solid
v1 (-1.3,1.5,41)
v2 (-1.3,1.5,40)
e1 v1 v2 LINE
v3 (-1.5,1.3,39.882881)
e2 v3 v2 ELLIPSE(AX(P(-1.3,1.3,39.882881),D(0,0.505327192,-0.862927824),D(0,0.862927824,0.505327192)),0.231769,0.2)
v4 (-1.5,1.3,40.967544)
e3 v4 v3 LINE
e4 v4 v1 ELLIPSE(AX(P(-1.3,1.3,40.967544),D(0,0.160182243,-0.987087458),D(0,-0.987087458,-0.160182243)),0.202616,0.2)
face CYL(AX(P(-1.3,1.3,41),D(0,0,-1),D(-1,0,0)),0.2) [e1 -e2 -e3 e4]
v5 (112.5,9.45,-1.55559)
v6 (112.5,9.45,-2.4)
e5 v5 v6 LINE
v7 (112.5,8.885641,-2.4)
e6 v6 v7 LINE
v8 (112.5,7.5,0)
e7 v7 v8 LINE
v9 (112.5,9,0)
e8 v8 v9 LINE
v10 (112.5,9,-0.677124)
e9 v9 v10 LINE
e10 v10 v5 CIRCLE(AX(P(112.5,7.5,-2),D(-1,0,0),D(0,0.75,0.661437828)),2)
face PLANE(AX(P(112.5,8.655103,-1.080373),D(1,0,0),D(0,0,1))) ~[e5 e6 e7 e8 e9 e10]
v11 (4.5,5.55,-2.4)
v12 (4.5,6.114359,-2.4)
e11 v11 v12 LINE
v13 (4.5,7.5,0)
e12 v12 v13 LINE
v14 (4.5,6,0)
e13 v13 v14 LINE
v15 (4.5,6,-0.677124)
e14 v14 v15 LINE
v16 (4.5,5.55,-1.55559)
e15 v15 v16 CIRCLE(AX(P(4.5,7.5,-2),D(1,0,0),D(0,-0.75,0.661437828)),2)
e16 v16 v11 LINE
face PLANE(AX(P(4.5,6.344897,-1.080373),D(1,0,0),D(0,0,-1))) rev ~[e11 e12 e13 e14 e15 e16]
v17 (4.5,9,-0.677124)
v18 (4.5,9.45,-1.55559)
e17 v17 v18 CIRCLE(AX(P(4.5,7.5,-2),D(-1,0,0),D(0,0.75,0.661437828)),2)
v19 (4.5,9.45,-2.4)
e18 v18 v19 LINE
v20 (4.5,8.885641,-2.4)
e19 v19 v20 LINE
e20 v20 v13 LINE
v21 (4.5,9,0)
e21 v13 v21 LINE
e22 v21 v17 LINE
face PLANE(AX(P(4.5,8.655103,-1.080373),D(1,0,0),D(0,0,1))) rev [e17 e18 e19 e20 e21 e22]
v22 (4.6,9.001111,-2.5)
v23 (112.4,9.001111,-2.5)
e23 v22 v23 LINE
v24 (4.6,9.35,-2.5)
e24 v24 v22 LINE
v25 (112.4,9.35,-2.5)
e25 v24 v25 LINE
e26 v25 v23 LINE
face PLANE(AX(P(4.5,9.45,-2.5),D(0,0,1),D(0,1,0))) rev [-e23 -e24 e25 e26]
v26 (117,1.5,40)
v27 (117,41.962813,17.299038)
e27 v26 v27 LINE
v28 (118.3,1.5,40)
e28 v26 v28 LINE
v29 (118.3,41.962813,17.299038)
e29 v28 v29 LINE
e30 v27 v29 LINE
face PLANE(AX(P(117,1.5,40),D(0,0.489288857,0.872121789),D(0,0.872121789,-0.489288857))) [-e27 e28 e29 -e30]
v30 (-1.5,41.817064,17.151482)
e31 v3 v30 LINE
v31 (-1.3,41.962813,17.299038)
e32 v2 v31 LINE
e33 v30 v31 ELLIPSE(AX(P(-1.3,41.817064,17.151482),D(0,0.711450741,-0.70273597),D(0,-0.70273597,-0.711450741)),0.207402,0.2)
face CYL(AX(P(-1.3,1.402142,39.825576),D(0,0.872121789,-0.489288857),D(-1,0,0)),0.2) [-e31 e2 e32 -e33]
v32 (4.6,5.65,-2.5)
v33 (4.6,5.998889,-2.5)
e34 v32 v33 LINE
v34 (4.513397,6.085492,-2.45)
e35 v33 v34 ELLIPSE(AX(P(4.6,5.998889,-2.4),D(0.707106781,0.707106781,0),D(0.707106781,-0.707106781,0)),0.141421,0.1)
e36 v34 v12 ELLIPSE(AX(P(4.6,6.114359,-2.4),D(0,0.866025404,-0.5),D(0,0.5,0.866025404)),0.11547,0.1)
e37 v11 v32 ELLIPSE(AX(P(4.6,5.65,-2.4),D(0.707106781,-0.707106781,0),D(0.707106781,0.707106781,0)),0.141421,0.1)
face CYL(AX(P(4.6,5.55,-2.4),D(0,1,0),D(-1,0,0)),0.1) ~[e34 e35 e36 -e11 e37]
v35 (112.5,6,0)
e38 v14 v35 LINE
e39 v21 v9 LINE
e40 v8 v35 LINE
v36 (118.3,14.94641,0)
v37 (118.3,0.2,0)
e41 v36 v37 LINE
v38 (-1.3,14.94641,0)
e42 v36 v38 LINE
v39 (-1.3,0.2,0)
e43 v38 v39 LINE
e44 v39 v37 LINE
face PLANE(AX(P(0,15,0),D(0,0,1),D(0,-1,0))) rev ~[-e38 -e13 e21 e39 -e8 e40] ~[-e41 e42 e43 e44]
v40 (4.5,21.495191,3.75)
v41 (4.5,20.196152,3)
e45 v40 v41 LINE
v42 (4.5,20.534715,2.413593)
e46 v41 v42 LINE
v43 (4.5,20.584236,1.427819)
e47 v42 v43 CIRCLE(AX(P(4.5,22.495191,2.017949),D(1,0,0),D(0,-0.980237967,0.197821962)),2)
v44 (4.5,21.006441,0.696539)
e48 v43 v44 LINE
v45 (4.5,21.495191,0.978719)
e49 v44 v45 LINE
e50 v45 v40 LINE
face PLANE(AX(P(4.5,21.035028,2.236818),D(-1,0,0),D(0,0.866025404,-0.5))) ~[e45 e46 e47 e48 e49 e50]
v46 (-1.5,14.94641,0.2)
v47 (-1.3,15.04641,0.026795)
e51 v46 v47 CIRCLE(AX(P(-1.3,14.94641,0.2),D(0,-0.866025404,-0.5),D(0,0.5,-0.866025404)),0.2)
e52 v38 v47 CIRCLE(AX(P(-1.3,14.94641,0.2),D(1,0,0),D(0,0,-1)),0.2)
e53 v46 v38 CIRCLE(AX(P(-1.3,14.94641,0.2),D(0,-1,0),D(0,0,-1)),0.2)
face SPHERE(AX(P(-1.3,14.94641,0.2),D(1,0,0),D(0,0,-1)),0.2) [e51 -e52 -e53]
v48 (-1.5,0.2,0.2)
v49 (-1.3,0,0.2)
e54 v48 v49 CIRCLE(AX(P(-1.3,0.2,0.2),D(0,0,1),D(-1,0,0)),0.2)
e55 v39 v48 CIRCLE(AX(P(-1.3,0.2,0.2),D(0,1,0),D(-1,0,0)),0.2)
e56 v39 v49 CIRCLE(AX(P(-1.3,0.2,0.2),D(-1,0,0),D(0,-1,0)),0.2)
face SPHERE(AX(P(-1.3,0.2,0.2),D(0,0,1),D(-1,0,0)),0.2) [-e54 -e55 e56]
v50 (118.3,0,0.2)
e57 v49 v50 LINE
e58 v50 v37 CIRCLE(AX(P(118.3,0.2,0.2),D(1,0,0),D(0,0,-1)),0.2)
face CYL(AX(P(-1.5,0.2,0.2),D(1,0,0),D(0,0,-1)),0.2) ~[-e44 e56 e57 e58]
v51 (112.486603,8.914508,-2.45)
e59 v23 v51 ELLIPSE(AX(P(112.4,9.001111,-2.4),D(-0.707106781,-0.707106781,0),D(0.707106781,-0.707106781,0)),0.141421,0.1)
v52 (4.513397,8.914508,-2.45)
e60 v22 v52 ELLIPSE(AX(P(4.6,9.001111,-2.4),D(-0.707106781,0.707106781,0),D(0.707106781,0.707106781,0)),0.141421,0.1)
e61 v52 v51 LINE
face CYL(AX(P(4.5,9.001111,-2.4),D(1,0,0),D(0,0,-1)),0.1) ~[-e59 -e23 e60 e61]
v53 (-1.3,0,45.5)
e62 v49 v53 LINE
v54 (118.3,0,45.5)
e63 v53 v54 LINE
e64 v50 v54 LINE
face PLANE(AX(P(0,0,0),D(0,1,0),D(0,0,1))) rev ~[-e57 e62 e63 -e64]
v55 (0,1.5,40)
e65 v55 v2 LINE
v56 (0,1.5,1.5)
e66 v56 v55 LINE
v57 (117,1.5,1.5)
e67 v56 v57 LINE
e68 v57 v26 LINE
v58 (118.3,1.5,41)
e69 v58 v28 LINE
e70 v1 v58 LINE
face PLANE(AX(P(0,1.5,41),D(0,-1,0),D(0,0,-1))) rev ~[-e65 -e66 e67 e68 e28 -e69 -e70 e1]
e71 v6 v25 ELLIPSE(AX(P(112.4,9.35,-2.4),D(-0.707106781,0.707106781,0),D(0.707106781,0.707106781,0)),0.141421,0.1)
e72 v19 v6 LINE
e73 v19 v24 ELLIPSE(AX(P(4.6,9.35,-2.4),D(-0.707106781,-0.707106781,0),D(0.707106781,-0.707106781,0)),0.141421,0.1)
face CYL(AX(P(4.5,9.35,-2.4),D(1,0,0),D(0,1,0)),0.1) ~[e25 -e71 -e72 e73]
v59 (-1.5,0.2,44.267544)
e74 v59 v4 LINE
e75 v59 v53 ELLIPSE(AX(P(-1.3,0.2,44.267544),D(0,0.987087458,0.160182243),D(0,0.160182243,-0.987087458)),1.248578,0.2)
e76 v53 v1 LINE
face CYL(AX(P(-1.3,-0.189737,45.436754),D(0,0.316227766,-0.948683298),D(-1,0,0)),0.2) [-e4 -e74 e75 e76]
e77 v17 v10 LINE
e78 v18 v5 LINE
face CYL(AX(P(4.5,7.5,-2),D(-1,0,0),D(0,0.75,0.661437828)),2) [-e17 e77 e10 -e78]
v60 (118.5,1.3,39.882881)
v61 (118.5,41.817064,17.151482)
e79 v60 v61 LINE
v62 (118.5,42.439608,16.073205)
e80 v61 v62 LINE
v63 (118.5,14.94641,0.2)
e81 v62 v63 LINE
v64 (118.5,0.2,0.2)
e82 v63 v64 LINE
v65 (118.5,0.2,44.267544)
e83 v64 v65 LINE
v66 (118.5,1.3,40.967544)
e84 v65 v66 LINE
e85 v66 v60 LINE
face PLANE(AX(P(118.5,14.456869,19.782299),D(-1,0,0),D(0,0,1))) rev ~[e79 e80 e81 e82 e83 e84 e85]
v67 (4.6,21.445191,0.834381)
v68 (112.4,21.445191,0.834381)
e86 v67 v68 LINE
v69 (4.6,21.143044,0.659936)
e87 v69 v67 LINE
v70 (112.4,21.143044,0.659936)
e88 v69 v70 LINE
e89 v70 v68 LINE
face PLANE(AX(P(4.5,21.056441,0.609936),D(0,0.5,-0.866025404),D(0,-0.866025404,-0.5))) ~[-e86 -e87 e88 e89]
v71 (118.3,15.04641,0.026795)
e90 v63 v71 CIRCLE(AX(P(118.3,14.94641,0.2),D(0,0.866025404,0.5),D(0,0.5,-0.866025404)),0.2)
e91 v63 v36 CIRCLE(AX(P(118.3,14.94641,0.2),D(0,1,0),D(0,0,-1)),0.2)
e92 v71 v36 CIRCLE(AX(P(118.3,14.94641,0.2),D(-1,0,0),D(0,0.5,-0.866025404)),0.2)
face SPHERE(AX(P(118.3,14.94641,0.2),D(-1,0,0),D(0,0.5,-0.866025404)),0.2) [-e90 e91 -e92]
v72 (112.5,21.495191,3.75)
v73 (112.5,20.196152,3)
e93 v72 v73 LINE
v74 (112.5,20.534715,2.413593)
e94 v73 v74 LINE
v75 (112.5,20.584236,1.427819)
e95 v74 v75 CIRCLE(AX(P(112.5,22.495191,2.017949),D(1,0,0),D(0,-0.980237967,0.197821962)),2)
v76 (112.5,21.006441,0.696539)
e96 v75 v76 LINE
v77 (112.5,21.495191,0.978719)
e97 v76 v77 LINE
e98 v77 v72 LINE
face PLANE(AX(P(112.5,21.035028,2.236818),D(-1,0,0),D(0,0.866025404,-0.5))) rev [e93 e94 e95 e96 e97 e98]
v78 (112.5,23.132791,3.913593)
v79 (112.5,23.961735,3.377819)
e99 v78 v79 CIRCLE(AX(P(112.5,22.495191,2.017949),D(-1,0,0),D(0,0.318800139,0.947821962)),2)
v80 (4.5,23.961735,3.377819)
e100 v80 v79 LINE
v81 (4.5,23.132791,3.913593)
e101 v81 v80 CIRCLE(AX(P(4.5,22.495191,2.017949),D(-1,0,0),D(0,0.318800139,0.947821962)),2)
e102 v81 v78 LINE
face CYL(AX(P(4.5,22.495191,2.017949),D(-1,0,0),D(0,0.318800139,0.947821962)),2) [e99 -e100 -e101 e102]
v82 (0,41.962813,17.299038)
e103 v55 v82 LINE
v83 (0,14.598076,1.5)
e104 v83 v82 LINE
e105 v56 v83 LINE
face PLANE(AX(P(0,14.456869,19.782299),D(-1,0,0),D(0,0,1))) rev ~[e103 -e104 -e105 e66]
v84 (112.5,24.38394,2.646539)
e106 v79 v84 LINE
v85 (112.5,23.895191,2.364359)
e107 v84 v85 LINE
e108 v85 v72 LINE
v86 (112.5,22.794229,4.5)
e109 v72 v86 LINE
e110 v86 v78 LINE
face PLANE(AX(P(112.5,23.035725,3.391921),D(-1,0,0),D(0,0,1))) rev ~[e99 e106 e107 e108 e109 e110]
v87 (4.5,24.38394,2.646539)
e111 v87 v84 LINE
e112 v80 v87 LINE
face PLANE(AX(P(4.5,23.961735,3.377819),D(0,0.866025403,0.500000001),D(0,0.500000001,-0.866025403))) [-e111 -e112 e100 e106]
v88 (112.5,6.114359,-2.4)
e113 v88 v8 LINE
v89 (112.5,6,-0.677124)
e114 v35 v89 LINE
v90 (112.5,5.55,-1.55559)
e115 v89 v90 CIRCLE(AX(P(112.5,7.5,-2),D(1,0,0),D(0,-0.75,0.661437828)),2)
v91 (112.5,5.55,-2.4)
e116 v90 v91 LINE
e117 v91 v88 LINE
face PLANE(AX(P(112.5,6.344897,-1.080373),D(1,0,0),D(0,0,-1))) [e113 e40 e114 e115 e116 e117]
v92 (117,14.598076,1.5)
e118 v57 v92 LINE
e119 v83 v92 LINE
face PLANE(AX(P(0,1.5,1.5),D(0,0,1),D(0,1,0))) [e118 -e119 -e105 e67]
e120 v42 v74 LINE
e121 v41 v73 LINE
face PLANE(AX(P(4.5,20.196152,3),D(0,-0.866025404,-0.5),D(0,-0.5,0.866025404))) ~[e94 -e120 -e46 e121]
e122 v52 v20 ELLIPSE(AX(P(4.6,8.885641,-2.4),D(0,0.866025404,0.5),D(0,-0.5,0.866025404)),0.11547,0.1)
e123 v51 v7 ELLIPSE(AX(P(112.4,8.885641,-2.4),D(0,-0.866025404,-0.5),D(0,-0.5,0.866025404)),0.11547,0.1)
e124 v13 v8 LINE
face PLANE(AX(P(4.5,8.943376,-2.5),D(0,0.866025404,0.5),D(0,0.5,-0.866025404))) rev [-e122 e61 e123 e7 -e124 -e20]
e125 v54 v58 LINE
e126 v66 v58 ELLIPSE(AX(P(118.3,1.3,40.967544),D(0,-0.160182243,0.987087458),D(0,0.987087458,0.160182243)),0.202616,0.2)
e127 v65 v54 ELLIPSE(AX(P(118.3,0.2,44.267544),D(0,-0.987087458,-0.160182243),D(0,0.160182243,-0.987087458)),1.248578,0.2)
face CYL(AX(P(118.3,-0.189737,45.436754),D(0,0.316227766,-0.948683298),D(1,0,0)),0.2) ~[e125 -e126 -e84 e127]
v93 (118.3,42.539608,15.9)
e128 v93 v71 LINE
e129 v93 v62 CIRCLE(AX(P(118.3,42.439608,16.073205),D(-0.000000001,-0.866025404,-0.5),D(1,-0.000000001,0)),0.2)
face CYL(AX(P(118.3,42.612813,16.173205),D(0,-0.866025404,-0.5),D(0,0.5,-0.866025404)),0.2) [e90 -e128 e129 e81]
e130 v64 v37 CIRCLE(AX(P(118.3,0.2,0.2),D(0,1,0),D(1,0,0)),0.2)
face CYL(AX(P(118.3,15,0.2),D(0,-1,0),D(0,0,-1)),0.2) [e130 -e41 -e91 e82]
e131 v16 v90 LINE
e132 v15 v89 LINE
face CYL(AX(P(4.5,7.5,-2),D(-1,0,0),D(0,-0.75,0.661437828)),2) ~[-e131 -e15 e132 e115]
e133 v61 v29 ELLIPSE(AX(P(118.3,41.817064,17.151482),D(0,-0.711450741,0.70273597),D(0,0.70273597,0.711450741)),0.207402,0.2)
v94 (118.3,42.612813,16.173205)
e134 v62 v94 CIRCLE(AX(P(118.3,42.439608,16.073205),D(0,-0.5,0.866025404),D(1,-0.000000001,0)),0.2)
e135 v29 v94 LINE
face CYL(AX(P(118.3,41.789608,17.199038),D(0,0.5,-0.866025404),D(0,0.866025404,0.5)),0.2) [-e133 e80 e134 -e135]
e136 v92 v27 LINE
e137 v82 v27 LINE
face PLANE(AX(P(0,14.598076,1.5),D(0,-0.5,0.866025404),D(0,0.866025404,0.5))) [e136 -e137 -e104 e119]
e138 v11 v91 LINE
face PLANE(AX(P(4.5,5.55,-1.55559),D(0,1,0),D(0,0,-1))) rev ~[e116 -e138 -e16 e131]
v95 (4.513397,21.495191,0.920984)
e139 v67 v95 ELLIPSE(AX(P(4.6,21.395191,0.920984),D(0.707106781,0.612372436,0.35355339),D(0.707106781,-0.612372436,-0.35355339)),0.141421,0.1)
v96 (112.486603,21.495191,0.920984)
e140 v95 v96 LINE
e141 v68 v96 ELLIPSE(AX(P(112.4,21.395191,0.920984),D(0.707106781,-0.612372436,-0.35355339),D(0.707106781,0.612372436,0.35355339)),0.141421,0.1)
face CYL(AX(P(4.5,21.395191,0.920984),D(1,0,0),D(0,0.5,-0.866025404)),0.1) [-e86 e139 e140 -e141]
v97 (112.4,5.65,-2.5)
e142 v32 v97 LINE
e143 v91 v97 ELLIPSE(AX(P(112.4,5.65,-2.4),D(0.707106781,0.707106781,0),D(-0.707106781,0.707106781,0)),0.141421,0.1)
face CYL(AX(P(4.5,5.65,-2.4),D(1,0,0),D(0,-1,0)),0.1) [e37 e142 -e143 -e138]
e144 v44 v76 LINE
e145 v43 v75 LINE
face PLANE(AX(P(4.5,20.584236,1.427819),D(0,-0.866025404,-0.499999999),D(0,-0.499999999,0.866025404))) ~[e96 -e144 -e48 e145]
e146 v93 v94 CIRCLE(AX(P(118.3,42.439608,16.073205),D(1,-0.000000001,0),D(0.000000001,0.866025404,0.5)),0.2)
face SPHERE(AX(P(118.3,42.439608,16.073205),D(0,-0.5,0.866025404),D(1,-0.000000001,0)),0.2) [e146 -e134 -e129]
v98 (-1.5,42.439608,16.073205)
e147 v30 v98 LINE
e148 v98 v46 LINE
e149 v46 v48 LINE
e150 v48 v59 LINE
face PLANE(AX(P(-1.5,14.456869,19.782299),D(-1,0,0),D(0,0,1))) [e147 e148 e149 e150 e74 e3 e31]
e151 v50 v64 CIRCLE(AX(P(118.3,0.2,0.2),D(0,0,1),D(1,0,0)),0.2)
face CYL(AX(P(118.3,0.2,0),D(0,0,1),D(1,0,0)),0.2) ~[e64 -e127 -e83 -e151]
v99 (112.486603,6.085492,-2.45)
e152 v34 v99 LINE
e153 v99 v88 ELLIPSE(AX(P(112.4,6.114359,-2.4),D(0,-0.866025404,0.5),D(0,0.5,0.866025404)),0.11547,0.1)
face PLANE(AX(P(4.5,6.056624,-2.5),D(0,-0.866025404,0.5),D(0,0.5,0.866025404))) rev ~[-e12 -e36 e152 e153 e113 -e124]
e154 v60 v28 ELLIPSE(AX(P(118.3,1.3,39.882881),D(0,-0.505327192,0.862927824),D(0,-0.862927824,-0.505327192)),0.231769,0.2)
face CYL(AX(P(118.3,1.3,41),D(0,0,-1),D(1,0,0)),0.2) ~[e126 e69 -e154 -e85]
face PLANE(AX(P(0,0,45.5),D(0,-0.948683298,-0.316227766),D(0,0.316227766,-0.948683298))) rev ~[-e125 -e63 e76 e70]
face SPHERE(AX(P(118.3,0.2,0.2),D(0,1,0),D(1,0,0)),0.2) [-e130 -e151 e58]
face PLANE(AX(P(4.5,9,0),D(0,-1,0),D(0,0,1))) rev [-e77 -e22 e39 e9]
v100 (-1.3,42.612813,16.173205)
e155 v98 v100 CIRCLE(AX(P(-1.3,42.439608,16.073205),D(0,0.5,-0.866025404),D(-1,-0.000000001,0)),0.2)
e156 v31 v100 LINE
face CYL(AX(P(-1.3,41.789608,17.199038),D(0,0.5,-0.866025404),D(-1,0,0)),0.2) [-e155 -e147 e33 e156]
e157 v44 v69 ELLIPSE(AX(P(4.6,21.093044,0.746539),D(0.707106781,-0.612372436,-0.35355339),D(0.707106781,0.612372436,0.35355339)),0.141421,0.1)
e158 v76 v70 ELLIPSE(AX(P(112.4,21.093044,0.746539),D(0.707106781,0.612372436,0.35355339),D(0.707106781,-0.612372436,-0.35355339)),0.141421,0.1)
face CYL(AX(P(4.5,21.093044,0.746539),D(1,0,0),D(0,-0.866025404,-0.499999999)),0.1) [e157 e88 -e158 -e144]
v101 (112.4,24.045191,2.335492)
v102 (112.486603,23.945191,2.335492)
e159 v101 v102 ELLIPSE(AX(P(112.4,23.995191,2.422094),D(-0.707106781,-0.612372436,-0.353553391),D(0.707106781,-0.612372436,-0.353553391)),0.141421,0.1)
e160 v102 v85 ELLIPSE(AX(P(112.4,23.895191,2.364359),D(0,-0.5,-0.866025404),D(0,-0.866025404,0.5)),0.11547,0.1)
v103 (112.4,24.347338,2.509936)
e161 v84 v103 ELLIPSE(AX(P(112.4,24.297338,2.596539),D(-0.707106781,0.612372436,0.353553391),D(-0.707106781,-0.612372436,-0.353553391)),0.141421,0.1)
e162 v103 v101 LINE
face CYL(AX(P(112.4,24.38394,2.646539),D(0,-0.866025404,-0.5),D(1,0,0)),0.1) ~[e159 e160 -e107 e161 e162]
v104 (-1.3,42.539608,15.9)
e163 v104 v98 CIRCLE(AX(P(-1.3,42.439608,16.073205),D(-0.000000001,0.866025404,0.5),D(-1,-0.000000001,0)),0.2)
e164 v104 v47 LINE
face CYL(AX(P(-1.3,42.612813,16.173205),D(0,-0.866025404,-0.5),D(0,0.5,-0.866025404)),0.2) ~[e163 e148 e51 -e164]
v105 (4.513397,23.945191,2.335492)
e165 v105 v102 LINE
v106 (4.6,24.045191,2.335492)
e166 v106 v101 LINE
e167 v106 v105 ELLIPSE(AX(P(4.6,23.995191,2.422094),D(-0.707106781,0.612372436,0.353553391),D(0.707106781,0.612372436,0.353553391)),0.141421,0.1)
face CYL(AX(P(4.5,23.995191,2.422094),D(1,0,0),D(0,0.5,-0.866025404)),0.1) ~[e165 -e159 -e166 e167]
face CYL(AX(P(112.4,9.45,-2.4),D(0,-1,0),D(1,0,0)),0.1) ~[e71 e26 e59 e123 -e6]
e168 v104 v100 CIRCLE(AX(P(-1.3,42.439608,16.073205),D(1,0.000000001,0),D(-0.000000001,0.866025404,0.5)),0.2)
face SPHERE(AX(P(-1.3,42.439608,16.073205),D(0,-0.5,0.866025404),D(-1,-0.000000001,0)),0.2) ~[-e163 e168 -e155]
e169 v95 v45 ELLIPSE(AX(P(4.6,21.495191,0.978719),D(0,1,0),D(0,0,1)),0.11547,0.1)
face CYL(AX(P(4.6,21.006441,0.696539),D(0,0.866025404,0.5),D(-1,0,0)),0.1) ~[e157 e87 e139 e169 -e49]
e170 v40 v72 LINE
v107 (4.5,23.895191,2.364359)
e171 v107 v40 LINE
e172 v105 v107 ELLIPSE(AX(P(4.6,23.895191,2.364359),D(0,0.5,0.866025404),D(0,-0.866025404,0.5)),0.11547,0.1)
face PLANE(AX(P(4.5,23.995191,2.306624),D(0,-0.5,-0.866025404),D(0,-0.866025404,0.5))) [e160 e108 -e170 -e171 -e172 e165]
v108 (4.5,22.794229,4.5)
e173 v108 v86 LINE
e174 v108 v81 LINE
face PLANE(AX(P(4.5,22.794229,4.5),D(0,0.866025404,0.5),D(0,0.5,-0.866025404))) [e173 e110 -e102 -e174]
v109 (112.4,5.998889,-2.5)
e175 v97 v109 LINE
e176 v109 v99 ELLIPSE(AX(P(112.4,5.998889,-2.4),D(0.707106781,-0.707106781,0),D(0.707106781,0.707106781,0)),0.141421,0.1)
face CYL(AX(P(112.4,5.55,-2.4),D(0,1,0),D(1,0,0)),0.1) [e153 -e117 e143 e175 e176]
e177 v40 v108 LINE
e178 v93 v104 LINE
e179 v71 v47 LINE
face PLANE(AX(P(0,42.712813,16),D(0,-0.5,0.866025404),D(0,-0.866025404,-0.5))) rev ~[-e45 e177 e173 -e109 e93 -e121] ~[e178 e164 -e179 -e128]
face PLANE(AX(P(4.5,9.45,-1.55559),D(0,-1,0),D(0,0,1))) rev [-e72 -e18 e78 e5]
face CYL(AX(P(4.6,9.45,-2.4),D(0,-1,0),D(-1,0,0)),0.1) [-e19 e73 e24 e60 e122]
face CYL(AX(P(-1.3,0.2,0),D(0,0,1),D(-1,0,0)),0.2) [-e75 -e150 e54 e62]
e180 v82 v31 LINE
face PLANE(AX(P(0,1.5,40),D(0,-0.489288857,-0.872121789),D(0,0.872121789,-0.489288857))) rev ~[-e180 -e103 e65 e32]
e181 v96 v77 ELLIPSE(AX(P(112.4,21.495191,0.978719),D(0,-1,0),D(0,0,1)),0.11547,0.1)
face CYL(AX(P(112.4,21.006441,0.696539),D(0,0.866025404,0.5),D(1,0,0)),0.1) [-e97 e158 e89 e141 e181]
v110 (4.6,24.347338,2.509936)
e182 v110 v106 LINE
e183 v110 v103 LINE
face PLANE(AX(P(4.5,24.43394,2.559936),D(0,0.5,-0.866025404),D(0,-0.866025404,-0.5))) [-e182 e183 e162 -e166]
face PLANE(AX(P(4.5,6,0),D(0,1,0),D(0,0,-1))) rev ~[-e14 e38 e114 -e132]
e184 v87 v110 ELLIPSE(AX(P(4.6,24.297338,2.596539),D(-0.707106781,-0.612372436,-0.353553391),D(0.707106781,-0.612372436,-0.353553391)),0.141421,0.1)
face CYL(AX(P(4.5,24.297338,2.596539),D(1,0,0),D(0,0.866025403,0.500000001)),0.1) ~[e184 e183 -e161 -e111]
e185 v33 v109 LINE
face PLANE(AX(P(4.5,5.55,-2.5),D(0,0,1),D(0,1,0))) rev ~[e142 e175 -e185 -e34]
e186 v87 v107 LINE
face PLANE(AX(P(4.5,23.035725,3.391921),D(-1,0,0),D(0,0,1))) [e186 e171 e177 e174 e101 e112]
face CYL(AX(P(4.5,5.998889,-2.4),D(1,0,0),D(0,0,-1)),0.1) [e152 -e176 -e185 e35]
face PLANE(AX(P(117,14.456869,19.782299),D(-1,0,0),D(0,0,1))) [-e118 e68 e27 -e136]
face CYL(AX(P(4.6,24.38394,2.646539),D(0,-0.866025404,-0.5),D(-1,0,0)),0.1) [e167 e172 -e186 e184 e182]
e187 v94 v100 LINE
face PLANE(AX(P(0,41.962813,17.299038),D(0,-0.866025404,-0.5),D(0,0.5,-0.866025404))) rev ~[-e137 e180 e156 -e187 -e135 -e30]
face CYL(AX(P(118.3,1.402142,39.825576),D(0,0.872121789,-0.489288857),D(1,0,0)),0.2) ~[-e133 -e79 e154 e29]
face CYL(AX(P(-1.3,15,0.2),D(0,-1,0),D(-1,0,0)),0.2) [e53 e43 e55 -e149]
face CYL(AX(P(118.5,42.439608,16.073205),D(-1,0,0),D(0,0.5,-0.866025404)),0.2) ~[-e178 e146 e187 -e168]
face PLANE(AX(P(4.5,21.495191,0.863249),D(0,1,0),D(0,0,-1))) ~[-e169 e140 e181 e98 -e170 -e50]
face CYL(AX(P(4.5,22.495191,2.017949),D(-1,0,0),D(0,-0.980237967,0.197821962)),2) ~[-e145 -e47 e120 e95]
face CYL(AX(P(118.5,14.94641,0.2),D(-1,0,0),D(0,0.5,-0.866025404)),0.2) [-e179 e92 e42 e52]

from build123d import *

# Parameters (mm, degrees)
EXTRUDE_1_DEPTH = 117
EXTRUDE_2_DEPTH = 1.5
EXTRUDE_3_DEPTH = 1.5
EXTRUDE_START   = -6
EXTRUDE_4_DEPTH = 108
EXTRUDE_5_DEPTH = 108
FILLET_1_R      = 0.1
FILLET_2_R      = 0.2


with BuildPart() as part:
    # 草图1 → 凸台-拉伸1 (new body)
    with BuildSketch(Plane(origin=(0, 0, 0), x_dir=(0, 0, -1), z_dir=(1, 0, 0))):
        Polygon((0, 0), (-40, 0), (-45.5, 0), (-41, 1.5), (-40, 1.5), (-1.5, 1.5), (-1.5, 14.598076211), (-17.299038106, 41.962812921), (-16, 42.712812921), (0, 15), align=None)
    extrude(amount=EXTRUDE_1_DEPTH)

    # 草图2 → 凸台-拉伸2 (add)
    with BuildSketch(Plane(origin=(117, 0, 0), x_dir=(0, 0, -1), z_dir=(1, 0, 0))):
        Polygon((-41, 1.5), (-40, 1.5), (-17.299038106, 41.962812921), (-16, 42.712812921), (0, 15), (0, 0), (-45.5, 0), align=None)
    extrude(amount=EXTRUDE_2_DEPTH)

    # 草图3 → 凸台-拉伸3 (add)
    with BuildSketch(Plane.ZY):
        Polygon((41, 1.5), (40, 1.5), (17.299038106, 41.962812921), (16, 42.712812921), (0, 15), (0, 0), (45.5, 0), align=None)
    extrude(amount=EXTRUDE_3_DEPTH)

    # 草图4 → 凸台-拉伸4 (add)
    with BuildSketch(Plane.ZY.offset(1.5).offset(EXTRUDE_START)):
        with BuildLine():
            Line((0, 7.5), (0, 6))
            Line((0, 6), (-0.677124344, 6))
            ThreePointArc((-0.677124344, 6), (-1.088161527, 5.719957697), (-1.555590279, 5.55))
            Line((-1.555590279, 5.55), (-2.5, 5.55))
            Line((-2.5, 5.55), (-2.5, 6.056624327))
            Line((-2.5, 6.056624327), (0, 7.5))
        make_face()
    extrude_4 = extrude(amount=-EXTRUDE_4_DEPTH)

    # 镜向1: 凸台-拉伸4 across plane
    add(extrude_4.mirror(Plane(origin=(0, 7.5, 0), x_dir=(0, 0, 1), z_dir=(0, -1, 0))))

    # 草图5 → 凸台-拉伸5 (add)
    with BuildSketch(Plane.ZY.offset(1.5).offset(EXTRUDE_START)):
        with BuildLine():
            Line((3.75, 21.495190528), (4.5, 22.794228634))
            Line((4.5, 22.794228634), (3.913593116, 23.132790806))
            ThreePointArc((3.913593116, 23.132790806), (3.697645625, 23.580833146), (3.3778193, 23.961735205))
            Line((3.3778193, 23.961735205), (2.559936491, 24.433940066))
            Line((2.559936491, 24.433940066), (2.306624327, 23.995190528))
            Line((2.306624327, 23.995190528), (3.75, 21.495190528))
        make_face()
    extrude_5 = extrude(amount=-EXTRUDE_5_DEPTH)

    # 镜向2: 凸台-拉伸5 across plane
    add(extrude_5.mirror(Plane(origin=(0, 17.745190528, 10.245190528), x_dir=(0, -0.49999999999999695, 0.8660254037844404), z_dir=(0, 0.8660254037844406, 0.49999999999999684))))

    # 圆角1
    fillet_1_edges = [part.edges().sort_by_distance(p)[0] for p in [
        (112.5, 24.214565297, 2.433280409),
        (58.5, 23.995190528, 2.306624327),
        (58.5, 24.433940066, 2.559936491),
        (4.5, 24.214565297, 2.433280409),
        (58.5, 21.495190528, 0.863248654),
        (4.5, 21.27581576, 0.736592572),
        (58.5, 21.056440991, 0.609936491),
        (112.5, 21.27581576, 0.736592572),
        (58.5, 6.056624327, -2.5),
        (112.5, 5.803312164, -2.5),
        (58.5, 5.55, -2.5),
        (4.5, 5.803312164, -2.5),
        (4.5, 9.196687836, -2.5),
        (58.5, 8.943375673, -2.5),
        (58.5, 9.45, -2.5),
        (112.5, 9.196687836, -2.5),
    ]]
    fillet(fillet_1_edges, radius=FILLET_1_R)

    # 圆角2
    fillet_2_edges = [part.edges().sort_by_distance(p)[0] for p in [
        (118.5, 0.75, 43.25),
        (118.5, 1.5, 40.5),
        (118.5, 21.731406461, 28.649519053),
        (118.5, 42.337812921, 16.649519053),
        (118.5, 28.856406461, 8),
        (118.5, 7.5, 0),
        (118.5, 0, 22.75),
        (-1.5, 42.337812921, 16.649519053),
        (-1.5, 21.731406461, 28.649519053),
        (-1.5, 1.5, 40.5),
        (-1.5, 0.75, 43.25),
        (-1.5, 0, 22.75),
        (-1.5, 7.5, 0),
        (-1.5, 28.856406461, 8),
        (58.5, 0, 0),
        (58.5, 15, 0),
        (58.5, 42.712812921, 16),
    ]]
    fillet(fillet_2_edges, radius=FILLET_2_R)


solid = part.part
